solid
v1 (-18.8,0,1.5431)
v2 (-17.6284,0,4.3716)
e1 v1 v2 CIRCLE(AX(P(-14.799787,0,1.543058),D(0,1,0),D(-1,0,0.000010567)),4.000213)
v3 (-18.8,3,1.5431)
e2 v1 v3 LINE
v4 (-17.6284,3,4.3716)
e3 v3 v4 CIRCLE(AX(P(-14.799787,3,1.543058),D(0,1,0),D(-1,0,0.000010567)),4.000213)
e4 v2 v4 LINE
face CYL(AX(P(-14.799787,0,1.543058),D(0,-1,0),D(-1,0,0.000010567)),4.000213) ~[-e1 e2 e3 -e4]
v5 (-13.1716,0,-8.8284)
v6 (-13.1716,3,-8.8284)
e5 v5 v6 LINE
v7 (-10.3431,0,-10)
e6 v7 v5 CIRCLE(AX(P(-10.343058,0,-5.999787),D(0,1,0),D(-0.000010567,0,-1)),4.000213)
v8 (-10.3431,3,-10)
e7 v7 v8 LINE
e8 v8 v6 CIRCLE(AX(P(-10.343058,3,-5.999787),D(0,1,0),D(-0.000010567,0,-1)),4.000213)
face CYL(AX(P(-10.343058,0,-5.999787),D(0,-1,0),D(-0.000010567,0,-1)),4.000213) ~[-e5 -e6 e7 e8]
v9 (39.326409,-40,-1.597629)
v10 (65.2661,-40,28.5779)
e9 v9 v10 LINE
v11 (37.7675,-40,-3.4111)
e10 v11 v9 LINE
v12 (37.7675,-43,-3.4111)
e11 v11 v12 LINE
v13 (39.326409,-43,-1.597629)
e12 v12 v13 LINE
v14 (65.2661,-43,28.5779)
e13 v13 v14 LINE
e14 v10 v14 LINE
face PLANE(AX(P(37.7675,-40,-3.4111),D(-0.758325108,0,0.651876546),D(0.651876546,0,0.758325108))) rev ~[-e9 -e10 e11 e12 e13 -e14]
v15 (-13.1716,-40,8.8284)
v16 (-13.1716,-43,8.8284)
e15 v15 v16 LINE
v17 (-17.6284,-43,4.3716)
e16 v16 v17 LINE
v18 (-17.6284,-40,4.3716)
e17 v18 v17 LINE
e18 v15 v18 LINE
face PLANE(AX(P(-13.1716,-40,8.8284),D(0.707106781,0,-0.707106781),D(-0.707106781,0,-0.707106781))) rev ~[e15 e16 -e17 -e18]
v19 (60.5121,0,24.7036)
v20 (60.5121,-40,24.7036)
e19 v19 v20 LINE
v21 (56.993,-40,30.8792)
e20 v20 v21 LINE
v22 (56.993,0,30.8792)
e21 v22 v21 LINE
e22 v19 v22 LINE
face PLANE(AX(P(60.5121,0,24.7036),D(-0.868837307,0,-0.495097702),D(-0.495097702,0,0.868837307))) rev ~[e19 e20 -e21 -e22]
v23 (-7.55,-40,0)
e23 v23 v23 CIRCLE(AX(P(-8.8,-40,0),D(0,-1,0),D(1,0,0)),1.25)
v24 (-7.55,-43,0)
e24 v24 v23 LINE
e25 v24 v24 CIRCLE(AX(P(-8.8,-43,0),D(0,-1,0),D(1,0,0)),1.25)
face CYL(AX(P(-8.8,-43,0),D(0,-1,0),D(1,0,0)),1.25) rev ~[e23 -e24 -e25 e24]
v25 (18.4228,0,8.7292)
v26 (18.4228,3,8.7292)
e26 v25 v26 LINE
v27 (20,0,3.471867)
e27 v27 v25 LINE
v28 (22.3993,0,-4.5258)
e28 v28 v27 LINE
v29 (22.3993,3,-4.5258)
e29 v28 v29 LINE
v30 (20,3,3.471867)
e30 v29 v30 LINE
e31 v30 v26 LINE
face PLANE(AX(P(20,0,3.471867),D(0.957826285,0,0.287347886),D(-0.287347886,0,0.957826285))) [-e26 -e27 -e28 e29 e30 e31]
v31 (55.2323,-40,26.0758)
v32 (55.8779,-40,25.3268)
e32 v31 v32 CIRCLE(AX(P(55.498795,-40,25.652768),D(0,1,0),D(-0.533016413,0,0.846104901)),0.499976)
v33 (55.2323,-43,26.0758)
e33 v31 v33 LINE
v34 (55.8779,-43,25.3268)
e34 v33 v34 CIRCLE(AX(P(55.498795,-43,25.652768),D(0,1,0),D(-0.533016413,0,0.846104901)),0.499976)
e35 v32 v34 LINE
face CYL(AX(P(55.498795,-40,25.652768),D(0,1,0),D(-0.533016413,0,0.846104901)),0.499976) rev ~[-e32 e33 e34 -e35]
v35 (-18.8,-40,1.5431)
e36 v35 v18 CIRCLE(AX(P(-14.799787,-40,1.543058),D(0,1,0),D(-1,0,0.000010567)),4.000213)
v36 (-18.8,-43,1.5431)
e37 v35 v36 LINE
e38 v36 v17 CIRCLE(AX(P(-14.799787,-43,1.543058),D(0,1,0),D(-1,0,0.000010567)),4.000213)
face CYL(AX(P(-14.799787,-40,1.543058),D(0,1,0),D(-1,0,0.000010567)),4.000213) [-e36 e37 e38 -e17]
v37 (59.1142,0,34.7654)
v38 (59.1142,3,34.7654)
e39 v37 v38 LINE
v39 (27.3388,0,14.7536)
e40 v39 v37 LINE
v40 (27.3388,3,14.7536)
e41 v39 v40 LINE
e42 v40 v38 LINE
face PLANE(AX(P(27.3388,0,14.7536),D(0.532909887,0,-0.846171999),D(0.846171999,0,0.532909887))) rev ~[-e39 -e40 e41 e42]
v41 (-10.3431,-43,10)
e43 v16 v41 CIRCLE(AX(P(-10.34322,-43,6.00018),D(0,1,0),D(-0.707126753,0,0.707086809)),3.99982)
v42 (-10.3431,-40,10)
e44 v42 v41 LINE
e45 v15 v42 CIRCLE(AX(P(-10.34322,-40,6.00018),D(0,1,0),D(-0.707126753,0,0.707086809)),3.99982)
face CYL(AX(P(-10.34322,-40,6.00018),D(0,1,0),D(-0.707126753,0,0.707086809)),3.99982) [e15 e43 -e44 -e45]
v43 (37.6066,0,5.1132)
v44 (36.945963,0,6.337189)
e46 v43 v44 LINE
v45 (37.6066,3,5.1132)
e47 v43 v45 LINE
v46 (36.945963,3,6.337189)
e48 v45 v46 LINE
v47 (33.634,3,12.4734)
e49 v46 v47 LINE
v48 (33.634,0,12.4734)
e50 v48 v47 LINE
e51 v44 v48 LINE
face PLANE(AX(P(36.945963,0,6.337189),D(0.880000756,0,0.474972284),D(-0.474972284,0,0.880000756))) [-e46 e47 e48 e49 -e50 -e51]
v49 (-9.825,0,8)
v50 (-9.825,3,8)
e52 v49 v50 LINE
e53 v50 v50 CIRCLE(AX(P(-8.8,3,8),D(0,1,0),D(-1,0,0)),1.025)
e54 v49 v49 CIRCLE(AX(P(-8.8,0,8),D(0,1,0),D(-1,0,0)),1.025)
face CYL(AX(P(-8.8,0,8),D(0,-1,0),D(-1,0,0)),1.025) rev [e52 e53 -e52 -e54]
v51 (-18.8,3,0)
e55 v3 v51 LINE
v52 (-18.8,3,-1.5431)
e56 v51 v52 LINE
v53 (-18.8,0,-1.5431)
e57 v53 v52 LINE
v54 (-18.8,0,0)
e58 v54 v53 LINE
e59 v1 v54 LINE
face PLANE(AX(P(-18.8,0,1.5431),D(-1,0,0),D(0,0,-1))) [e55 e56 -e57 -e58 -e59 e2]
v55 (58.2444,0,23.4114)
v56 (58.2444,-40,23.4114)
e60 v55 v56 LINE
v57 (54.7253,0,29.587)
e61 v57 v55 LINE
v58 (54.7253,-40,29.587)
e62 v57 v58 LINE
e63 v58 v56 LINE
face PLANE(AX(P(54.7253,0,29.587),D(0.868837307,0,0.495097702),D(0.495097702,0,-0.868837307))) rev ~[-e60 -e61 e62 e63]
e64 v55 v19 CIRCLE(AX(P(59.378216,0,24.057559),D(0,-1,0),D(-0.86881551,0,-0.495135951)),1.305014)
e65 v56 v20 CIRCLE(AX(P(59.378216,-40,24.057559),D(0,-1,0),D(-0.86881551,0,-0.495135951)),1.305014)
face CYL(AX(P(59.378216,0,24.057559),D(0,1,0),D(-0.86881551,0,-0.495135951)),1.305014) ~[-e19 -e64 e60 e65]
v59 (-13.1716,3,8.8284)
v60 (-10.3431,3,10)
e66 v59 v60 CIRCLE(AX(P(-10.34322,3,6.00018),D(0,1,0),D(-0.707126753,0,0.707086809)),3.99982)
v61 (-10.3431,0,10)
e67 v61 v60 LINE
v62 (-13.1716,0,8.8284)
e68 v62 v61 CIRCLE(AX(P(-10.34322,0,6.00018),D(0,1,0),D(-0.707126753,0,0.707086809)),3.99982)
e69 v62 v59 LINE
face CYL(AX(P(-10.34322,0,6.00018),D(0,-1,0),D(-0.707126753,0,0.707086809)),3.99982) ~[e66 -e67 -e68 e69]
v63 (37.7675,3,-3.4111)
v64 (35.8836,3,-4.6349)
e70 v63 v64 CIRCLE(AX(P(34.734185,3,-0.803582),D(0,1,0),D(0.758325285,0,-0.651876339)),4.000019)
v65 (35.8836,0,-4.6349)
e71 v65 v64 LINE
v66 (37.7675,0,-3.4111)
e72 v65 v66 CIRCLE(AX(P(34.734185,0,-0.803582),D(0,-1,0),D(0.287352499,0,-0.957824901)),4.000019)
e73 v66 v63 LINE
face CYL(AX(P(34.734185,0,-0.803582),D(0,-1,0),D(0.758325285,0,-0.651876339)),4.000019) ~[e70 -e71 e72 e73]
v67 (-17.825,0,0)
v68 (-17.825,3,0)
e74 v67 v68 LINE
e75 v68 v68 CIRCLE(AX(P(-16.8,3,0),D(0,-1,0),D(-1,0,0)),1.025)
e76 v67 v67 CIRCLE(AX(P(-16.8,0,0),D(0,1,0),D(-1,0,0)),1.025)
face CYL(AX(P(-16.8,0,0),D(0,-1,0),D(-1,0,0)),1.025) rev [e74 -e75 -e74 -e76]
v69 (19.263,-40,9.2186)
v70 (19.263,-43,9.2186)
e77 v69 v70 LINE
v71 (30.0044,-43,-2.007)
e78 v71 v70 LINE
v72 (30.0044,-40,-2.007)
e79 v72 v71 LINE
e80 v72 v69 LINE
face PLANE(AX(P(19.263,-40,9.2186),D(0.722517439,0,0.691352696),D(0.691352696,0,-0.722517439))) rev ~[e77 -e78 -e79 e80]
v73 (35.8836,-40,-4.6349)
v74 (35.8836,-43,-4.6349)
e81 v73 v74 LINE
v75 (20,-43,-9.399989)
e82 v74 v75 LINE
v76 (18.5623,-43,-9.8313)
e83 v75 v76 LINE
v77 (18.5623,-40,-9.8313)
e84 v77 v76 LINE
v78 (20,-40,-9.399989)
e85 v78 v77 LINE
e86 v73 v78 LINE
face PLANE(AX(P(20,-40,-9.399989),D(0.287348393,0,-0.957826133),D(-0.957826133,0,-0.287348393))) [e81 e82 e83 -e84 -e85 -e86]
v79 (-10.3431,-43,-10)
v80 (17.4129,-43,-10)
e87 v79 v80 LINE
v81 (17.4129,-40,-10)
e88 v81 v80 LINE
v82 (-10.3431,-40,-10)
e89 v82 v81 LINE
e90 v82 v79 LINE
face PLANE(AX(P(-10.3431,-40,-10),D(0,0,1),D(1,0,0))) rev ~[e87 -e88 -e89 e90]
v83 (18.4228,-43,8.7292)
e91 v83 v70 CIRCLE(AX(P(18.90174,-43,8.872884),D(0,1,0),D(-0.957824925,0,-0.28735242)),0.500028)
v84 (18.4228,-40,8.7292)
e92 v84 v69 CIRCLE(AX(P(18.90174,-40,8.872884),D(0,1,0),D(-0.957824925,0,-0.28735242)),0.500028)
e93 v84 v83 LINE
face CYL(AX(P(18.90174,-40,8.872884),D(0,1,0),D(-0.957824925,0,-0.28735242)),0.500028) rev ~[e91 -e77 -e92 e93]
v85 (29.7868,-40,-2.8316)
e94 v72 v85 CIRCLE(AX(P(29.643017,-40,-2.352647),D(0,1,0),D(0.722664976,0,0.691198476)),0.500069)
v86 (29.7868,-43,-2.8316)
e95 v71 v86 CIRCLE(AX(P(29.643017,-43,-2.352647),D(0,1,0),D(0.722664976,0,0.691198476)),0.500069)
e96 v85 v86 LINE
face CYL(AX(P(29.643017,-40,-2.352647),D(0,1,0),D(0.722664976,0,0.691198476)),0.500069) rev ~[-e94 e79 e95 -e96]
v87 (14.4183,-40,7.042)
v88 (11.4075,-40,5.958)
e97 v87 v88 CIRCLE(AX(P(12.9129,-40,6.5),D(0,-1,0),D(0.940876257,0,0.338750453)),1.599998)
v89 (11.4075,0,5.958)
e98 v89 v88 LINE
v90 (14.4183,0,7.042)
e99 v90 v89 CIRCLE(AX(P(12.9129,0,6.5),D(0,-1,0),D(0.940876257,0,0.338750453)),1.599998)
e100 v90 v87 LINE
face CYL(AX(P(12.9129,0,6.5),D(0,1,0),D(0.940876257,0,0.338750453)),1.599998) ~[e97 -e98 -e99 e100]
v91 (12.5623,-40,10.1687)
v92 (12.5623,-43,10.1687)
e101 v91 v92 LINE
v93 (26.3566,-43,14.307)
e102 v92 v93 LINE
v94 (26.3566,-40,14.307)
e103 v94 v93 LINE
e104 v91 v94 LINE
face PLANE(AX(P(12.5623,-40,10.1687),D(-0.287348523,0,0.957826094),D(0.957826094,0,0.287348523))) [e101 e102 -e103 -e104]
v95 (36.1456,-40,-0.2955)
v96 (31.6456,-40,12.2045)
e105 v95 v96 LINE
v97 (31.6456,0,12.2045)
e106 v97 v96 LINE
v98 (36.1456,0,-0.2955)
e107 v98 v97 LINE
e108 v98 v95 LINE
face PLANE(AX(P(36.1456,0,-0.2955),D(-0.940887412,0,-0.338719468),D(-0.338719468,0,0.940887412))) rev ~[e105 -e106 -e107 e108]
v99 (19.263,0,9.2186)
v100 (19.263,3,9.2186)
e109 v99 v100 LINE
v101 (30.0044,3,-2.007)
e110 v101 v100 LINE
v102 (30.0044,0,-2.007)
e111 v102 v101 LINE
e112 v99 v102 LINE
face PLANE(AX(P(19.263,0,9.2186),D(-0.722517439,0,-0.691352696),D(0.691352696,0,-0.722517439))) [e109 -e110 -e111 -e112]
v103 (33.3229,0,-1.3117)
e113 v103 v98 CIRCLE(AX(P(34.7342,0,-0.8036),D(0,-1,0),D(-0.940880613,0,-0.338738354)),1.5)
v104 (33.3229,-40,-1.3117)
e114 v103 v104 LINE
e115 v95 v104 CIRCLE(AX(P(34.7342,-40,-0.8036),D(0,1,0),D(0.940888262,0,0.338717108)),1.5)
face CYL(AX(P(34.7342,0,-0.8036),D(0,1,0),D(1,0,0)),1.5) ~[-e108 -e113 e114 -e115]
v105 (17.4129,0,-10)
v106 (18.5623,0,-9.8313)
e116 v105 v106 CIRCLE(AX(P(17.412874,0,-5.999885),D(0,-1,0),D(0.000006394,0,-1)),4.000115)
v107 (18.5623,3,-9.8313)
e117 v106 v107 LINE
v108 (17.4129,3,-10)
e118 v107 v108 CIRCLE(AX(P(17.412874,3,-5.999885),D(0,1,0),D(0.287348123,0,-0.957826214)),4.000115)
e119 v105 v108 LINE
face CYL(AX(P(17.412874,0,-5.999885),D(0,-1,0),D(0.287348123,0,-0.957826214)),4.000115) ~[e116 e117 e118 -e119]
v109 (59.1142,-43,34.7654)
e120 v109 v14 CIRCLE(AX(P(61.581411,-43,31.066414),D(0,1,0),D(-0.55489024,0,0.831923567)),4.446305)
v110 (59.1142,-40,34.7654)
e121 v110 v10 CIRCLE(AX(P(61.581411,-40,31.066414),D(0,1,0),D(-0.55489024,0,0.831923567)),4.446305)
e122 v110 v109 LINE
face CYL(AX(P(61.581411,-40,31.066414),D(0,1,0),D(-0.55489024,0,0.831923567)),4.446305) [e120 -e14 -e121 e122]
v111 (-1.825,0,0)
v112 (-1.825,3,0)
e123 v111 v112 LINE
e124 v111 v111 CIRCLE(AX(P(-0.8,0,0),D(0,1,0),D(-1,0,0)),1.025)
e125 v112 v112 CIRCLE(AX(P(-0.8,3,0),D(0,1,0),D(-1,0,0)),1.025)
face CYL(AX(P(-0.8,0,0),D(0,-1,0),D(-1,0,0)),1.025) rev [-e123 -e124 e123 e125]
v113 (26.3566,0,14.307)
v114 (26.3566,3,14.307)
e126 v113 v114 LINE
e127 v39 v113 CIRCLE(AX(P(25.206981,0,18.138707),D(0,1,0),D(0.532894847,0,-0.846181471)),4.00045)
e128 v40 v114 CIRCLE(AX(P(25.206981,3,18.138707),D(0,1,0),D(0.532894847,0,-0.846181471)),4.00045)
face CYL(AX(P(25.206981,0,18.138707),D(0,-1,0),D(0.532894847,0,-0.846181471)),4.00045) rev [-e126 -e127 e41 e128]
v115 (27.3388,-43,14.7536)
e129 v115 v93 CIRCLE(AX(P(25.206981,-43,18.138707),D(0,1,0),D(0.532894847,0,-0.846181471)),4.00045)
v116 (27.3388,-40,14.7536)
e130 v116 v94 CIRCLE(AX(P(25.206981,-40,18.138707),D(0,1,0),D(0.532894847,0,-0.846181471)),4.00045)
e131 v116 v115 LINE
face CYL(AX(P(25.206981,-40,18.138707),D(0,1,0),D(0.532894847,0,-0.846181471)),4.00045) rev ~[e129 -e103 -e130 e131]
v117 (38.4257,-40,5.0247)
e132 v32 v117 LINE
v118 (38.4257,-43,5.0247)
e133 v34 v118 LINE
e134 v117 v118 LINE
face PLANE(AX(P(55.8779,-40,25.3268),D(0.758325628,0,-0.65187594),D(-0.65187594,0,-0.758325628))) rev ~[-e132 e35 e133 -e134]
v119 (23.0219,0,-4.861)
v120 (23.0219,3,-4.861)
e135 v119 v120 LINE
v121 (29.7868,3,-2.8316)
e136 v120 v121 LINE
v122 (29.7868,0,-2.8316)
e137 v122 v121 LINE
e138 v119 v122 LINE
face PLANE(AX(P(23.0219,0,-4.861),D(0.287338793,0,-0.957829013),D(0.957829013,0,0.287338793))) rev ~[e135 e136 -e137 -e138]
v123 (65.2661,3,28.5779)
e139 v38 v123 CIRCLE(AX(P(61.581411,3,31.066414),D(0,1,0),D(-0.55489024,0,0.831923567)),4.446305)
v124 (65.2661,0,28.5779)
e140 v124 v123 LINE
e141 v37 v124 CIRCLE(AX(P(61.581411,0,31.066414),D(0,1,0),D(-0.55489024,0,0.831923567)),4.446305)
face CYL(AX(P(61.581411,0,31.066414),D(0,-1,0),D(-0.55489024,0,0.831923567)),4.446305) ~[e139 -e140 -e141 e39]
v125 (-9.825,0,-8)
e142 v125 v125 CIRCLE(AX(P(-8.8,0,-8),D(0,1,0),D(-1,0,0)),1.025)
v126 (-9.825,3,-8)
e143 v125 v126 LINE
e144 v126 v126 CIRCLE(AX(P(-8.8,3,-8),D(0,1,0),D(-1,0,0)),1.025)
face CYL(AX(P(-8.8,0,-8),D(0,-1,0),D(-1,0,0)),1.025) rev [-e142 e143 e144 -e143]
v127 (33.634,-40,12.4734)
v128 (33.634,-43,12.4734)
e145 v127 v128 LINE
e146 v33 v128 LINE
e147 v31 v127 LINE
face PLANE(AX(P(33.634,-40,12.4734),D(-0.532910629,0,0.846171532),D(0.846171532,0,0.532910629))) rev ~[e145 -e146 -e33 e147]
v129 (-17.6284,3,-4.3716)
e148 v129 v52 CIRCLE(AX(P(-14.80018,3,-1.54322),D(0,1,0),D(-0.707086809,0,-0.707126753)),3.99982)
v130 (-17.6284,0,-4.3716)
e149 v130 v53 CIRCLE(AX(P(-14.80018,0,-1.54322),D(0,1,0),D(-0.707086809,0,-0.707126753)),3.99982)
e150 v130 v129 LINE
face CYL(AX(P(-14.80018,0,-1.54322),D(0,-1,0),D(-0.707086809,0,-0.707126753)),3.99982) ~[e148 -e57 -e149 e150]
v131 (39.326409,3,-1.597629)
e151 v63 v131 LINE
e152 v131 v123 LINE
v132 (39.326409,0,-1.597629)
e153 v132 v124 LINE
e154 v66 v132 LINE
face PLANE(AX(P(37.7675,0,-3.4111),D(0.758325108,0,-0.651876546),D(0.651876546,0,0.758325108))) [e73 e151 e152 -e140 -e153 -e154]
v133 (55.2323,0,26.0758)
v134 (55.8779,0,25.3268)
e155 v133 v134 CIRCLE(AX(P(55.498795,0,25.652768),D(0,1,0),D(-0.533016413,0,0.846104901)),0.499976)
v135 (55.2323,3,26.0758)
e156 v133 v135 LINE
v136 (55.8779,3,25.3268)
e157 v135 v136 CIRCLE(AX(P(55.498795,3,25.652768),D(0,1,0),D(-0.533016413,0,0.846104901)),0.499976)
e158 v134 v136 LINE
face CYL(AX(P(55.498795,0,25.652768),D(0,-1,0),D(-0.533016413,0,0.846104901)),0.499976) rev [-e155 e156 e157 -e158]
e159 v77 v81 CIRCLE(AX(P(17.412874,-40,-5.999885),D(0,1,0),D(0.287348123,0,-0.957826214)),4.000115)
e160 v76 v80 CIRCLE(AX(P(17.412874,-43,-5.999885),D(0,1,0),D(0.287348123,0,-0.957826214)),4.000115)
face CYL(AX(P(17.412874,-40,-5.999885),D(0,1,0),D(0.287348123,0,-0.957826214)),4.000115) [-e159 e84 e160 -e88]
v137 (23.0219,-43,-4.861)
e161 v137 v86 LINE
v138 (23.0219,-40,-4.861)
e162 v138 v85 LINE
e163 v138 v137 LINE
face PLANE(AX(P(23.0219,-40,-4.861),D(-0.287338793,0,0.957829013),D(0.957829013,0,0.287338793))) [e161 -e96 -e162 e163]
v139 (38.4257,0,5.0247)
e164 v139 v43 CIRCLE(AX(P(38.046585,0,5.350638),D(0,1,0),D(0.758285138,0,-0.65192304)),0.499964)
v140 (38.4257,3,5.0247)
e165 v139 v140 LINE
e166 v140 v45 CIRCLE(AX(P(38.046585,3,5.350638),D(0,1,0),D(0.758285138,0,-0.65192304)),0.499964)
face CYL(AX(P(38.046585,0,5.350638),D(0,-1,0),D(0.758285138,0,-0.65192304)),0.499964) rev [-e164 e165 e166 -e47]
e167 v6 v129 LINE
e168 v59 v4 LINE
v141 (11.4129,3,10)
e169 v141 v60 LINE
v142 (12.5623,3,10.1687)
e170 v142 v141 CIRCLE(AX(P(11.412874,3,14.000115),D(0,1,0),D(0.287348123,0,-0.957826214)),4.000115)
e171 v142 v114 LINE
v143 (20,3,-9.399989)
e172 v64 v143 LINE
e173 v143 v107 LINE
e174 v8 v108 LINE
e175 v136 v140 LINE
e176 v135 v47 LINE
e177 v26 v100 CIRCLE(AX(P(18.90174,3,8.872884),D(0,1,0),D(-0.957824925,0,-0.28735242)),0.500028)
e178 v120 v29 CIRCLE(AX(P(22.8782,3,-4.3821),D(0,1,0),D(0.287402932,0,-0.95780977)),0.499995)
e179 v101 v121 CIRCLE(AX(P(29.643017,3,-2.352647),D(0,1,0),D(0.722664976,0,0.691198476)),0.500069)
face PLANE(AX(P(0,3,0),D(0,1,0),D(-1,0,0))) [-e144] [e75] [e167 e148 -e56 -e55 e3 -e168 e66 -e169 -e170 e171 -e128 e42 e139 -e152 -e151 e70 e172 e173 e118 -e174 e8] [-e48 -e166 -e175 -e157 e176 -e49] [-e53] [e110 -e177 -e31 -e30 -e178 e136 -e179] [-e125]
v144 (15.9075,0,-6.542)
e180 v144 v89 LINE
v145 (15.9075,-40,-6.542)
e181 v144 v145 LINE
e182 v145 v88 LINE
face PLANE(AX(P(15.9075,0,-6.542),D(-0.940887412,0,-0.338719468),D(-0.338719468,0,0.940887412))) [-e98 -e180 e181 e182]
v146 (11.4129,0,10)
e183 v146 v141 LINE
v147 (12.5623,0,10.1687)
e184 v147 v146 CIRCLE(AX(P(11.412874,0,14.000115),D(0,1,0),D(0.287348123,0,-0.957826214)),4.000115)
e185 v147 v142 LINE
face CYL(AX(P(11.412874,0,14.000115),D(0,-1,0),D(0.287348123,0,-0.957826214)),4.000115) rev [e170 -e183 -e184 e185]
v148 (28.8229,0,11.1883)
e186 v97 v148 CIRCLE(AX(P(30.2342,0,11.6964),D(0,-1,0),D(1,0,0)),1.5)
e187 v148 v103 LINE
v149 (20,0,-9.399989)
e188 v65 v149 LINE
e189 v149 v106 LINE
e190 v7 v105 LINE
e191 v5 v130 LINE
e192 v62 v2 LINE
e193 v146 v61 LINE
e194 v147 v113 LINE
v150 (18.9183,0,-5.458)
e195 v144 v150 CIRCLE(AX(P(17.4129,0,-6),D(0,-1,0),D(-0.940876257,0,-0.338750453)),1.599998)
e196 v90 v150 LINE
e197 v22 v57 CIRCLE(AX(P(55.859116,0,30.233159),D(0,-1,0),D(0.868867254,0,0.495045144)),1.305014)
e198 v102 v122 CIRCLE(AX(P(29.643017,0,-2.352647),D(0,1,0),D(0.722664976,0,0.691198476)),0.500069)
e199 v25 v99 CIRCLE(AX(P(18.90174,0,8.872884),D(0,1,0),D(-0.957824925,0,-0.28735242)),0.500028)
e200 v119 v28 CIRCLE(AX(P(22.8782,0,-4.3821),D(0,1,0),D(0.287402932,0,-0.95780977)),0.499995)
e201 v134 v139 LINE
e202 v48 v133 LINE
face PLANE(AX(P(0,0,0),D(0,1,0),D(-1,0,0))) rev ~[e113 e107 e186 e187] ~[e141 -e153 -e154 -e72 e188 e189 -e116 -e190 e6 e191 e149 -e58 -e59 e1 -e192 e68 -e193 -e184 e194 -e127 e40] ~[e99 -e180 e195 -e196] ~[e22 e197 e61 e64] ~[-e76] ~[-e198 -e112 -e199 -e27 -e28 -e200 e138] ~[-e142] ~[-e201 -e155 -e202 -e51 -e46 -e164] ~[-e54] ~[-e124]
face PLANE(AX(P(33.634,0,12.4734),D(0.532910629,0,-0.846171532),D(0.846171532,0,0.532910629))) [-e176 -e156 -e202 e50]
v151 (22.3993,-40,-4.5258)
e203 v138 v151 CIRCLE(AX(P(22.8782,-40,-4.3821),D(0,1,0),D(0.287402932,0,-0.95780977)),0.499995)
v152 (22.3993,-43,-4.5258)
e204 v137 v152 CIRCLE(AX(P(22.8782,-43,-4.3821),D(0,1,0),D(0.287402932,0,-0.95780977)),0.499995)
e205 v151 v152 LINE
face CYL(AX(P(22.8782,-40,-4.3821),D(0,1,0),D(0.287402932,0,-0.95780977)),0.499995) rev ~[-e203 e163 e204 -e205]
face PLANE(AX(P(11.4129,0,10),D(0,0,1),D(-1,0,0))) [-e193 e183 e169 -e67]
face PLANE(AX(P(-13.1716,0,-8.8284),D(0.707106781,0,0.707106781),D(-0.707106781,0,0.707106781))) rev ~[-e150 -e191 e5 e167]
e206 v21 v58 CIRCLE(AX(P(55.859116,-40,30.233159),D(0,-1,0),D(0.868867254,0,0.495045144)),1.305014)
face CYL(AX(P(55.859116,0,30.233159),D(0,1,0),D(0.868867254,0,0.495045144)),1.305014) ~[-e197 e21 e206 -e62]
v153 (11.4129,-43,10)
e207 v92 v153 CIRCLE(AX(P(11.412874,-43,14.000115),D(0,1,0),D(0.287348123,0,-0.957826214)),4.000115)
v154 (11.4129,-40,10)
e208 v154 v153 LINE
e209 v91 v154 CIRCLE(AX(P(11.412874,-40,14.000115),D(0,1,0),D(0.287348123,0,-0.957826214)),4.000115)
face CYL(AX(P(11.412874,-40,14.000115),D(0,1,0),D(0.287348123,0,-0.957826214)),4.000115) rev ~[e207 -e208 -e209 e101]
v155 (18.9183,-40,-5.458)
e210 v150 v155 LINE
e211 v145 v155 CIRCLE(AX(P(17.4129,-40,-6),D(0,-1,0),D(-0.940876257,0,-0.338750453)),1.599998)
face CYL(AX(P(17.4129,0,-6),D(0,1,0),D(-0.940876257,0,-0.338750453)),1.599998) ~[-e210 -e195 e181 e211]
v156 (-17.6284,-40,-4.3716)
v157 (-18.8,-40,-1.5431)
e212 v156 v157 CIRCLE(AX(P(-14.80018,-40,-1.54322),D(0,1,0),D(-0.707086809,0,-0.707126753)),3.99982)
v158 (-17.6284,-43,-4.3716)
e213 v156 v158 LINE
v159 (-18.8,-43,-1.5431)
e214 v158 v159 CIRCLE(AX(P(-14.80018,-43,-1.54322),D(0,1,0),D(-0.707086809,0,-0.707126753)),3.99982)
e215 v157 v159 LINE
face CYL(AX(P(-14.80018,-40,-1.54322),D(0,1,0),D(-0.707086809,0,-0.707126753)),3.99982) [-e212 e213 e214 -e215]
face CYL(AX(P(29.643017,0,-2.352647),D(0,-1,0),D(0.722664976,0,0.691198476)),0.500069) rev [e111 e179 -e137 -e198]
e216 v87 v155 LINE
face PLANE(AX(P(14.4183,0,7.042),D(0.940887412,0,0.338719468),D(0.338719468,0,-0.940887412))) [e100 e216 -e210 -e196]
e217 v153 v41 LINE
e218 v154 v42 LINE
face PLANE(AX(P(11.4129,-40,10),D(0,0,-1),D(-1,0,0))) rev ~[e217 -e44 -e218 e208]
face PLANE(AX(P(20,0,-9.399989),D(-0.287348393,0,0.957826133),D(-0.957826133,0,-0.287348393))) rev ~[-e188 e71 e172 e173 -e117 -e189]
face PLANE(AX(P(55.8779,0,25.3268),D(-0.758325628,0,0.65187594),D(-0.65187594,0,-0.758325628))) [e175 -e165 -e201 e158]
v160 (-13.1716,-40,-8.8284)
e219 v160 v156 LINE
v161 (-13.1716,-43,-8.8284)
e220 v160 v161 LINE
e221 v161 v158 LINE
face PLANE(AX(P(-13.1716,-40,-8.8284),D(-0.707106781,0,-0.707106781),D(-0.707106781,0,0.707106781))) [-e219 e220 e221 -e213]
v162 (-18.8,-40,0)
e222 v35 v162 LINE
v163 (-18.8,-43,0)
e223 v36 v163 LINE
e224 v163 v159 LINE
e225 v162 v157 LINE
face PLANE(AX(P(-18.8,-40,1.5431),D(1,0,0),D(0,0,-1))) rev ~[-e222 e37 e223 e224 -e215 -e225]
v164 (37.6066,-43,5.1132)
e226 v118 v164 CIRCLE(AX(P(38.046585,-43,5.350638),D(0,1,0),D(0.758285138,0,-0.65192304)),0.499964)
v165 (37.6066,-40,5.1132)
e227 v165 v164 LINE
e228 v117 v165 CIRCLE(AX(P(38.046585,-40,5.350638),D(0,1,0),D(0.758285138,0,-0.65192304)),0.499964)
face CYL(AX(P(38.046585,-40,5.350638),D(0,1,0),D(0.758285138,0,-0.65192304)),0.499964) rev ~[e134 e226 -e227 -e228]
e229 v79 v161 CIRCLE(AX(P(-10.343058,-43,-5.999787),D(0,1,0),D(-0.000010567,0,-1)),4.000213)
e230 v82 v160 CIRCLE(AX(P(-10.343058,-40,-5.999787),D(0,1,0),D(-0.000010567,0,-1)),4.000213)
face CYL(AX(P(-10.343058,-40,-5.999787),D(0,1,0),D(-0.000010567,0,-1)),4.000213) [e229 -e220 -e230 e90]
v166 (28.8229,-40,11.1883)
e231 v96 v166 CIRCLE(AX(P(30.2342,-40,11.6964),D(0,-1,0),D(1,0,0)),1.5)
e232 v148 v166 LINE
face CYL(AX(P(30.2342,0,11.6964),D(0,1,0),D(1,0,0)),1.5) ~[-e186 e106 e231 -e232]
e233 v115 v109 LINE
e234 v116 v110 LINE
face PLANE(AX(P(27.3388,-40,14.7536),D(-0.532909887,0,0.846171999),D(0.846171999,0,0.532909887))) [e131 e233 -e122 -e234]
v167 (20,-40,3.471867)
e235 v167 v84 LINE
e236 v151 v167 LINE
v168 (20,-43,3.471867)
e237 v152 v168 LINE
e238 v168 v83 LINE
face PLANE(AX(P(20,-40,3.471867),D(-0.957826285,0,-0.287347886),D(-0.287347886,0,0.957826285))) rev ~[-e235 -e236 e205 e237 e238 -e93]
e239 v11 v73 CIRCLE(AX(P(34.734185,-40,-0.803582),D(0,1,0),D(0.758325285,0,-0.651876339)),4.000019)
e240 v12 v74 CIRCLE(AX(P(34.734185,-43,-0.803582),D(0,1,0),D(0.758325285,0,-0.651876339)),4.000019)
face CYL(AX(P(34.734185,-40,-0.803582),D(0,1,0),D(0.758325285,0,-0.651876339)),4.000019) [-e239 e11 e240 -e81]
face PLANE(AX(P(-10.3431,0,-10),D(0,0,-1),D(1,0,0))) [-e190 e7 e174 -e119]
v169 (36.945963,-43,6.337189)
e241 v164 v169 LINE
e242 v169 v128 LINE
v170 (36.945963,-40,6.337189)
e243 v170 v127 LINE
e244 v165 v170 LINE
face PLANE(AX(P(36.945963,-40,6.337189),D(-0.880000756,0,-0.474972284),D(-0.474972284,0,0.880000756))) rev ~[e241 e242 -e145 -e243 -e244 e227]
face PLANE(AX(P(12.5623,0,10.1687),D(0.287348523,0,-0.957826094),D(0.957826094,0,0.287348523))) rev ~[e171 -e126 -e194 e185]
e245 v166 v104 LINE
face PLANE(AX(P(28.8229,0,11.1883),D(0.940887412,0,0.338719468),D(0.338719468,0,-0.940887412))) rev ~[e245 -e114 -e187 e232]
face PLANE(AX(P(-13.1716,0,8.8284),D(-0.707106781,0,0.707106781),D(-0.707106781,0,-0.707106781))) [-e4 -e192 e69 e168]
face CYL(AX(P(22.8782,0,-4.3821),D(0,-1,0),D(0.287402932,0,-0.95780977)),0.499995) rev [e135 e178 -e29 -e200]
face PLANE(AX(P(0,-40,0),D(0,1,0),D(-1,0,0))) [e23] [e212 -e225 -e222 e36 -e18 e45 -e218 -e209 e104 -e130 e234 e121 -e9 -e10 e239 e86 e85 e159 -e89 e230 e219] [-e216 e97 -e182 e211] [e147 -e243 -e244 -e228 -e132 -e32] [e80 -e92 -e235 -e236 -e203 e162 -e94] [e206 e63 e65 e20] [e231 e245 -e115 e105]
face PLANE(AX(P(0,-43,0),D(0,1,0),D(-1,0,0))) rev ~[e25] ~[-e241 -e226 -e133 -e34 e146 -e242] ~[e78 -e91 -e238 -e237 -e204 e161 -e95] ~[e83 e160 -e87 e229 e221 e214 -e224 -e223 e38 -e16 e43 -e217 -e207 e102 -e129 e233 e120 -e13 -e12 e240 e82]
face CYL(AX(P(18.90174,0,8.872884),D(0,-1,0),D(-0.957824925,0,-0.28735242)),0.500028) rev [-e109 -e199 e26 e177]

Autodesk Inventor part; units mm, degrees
ref_plane "YZ Plane" through (0, 0, 0) normal (1, 0, 0) x (0, 1, 0)
ref_plane "XZ Plane" through (0, 0, 0) normal (0, 1, 0) x (-1, 0, 0)
ref_plane "XY Plane" through (0, 0, 0) normal (0, 0, 1) x (1, 0, 0)
sketch "Sketch1" plane through (0, 0, 0) normal (0, 1, 0) x (-1, 0, 0)
  line L0 (-11.4129, 10) -> (10.3431, 10)
  line L1 (20, 2) -> (20, -2)
  line L2 (10.3431, -10) -> (-17.4129, -10)
  line L3 (-20, -10) -> (-20, 10)
  line L4 (20, -10) -> (-20, 10) construction
  line L5 (20, 10) -> (-20, -10) construction
  line L6 (13.1716, -8.8284) -> (17.6284, -4.3716)
  line L7 (13.1716, 8.8284) -> (17.6284, 4.3716)
  line L8 (18.8, 1.5431) -> (18.8, -1.5431)
  arc A0 (18.8, 1.5431) -> (17.6284, 4.3716) centre (14.8, 1.5431) ccw
  arc A1 (17.6284, -4.3716) -> (18.8, -1.5431) centre (14.8, -1.5431) ccw
  arc A2 (13.1716, 8.8284) -> (10.3431, 10) centre (10.3431, 6) ccw
  arc A3 (10.3431, -10) -> (13.1716, -8.8284) centre (10.3431, -6) ccw
  line L9 (-18, -10) -> (-12, 10)
  line L10 (-12.5623, 10.1687) -> (-26.3566, 14.307)
  line L11 (-33.8781, 16.5634) -> (-39.8781, -3.4366)
  line L12 (-35.8836, -4.6349) -> (-18.5623, -9.8313)
  line L13 (-26.8781, 14.4634) -> (-37.0046, -4.2986)
  line L14 (-27.3388, 14.7536) -> (-59.1142, 34.7654)
  line L15 (-37.7675, -3.4111) -> (-65.2661, 28.5779)
  arc A4 (-12.5623, 10.1687) -> (-11.4129, 10) centre (-11.4129, 14) ccw
  arc A5 (-18.5623, -9.8313) -> (-17.4129, -10) centre (-17.4129, -6) ccw
  arc A6 (-27.3388, 14.7536) -> (-26.3566, 14.307) centre (-25.2072, 18.1383) ccw
  arc A7 (-37.7675, -3.4111) -> (-35.8836, -4.6349) centre (-34.7342, -0.8036) ccw
  arc A8 (-59.1142, 34.7654) -> (-65.2661, 28.5779) centre (-61.5814, 31.0663) ccw
  line L16 (18.8, 0) -> (8.8, 0)
  circle A9 centre (0.8, 0) radius 1.025
  circle A10 centre (8.8, -8) radius 1.025
  circle A11 centre (16.8, 0) radius 1.025
  circle A12 centre (8.8, 8) radius 1.025
  line L17 (-23.0219, -4.861) -> (-29.7868, -2.8316)
  line L18 (-22.3993, -4.5258) -> (-18.4228, 8.7292)
  line L19 (-19.263, 9.2186) -> (-30.0044, -2.007)
  arc A13 (-23.0219, -4.861) -> (-22.3993, -4.5258) centre (-22.8782, -4.3821) ccw
  arc A14 (-30.0044, -2.007) -> (-29.7868, -2.8316) centre (-29.6432, -2.3526) ccw
  arc A15 (-18.4228, 8.7292) -> (-19.263, 9.2186) centre (-18.9017, 8.8729) ccw
  line L20 (-37.6066, 5.1132) -> (-33.634, 12.4734)
  line L21 (-33.634, 12.4734) -> (-55.2323, 26.0758)
  line L22 (-55.8779, 25.3268) -> (-38.4257, 5.0247)
  arc A16 (-38.4257, 5.0247) -> (-37.6066, 5.1132) centre (-38.0466, 5.3506) ccw
  arc A17 (-55.2323, 26.0758) -> (-55.8779, 25.3268) centre (-55.4988, 25.6528) ccw
  point P0 (0, 0)
  point P1 (0, 0)
  point P2 (12, -10)
  point P3 (12, 10)
  point P4 (20, 10)
  point P5 (18.8, 3.2)
  point P6 (18.8, -3.2)
  point P7 (-37.9518, 4.4734)
  point P8 (-35.6203, 8.7933)
  dimension "d0" = 40
  dimension "d1" = 20
  dimension "d32" = 8
  dimension "d33" = 8
  dimension "d34" = 8
  dimension "d35" = 8
  dimension "d43" = 1.2
  dimension "d46" = 4
  dimension "d47" = 2
  dimension "d48" = 8
  dimension "d49" = 3
  dimension "d50" = 7
  dimension "d51" = 43.3541
  dimension "d52" = 32.617
  dimension "d53" = 4
  dimension "d54" = 10
  dimension "d55" = 2.05
  dimension "d56" = 8
  dimension "d59" = 360
  dimension "d79" = 0.5
  dimension "d80" = 8
  dimension "d81" = 5
  dimension "d82" = 5
  dimension "d83" = 0.5
extrude "Extrusion1" add sketch "Sketch1" along normal blind 3
sketch "Sketch8" plane through (0, 0, 0) normal (0, -1, 0) x (1, 0, 0)
  arc A0 (17.4129, -10) -> (18.5623, -9.8313) centre (17.4129, -6) ccw projected
  line L0 (-13.1716, -8.8284) -> (-17.6284, -4.3716) projected
  arc A1 (35.8836, -4.6349) -> (37.7675, -3.4111) centre (34.7342, -0.8036) ccw projected
  circle A2 centre (34.7342, -0.8036) radius 1.5
  circle A3 centre (30.2342, 11.6964) radius 1.5
  line L1 (65.2661, 28.5779) -> (37.7675, -3.4111) projected
  line L2 (27.3388, 14.7536) -> (59.1142, 34.7654) projected
  line L3 (15.9075, -6.542) -> (11.4075, 5.958)
  line L4 (14.4183, 7.042) -> (18.9183, -5.458)
  arc A4 (15.9075, -6.542) -> (18.9183, -5.458) centre (17.4129, -6) ccw
  arc A5 (14.4183, 7.042) -> (11.4075, 5.958) centre (12.9129, 6.5) ccw
  line L5 (34.7342, -0.8036) -> (30.2342, 11.6964) construction
  line L6 (36.1456, -0.2955) -> (31.6456, 12.2045)
  line L7 (28.8229, 11.1883) -> (33.3229, -1.3117)
  arc A6 (33.3229, -1.3117) -> (36.1456, -0.2955) centre (34.7342, -0.8036) ccw
  arc A7 (31.6456, 12.2045) -> (28.8229, 11.1883) centre (30.2342, 11.6964) ccw
  line L8 (59.3782, 24.0575) -> (55.8591, 30.2331) construction
  line L9 (60.5121, 24.7036) -> (56.993, 30.8792)
  line L10 (54.7253, 29.587) -> (58.2444, 23.4114)
  arc A8 (58.2444, 23.4114) -> (60.5121, 24.7036) centre (59.3782, 24.0575) ccw
  arc A9 (56.993, 30.8792) -> (54.7253, 29.587) centre (55.8591, 30.2331) ccw
  point P0 (0, 0)
  point P1 (17.9938, -9.9576)
  point P2 (15.1629, 0.25)
  point P3 (32.4842, 5.4464)
  point P4 (57.6187, 27.1453)
  dimension "d64" = 3
  dimension "d69" = 3
  dimension "d70" = 4.5
  dimension "d71" = 12.5
  dimension "d88" = 1.6
extrude "Extrusion7" add sketch "Sketch8" along normal blind 40
extrude "Extrusion8" add sketch "Sketch1" against normal blind 3 from surface at -40 contours A11 L16 | L16 A11 | L0 A2 L7 A0 L8 A1 L6 A3 L2 A5 L12 A7 L15 A8 L14 A6 L10 A4 | A9 | A10 | A12
sketch "Sketch10" plane through (-10.3431, -43, -10) normal (0, -1, 0) x (1, 0, 0)
  line L0 (-8.4569, 8.4569) -> (-8.4569, 11.5431) projected
  line L1 (-8.4569, 10) -> (1.5431, 10)
  circle A0 centre (1.5431, 10) radius 1.25
  point P0 (10.3431, 10)
  dimension "d84" = 10
  dimension "d85" = 2.5
extrude "Extrusion9" cut sketch "Sketch10" against normal blind 3
equation "\"d33\" = d32"
equation "\"d34\" = d32"
equation "\"d35\" = d34"
properties part number "leg_part"
